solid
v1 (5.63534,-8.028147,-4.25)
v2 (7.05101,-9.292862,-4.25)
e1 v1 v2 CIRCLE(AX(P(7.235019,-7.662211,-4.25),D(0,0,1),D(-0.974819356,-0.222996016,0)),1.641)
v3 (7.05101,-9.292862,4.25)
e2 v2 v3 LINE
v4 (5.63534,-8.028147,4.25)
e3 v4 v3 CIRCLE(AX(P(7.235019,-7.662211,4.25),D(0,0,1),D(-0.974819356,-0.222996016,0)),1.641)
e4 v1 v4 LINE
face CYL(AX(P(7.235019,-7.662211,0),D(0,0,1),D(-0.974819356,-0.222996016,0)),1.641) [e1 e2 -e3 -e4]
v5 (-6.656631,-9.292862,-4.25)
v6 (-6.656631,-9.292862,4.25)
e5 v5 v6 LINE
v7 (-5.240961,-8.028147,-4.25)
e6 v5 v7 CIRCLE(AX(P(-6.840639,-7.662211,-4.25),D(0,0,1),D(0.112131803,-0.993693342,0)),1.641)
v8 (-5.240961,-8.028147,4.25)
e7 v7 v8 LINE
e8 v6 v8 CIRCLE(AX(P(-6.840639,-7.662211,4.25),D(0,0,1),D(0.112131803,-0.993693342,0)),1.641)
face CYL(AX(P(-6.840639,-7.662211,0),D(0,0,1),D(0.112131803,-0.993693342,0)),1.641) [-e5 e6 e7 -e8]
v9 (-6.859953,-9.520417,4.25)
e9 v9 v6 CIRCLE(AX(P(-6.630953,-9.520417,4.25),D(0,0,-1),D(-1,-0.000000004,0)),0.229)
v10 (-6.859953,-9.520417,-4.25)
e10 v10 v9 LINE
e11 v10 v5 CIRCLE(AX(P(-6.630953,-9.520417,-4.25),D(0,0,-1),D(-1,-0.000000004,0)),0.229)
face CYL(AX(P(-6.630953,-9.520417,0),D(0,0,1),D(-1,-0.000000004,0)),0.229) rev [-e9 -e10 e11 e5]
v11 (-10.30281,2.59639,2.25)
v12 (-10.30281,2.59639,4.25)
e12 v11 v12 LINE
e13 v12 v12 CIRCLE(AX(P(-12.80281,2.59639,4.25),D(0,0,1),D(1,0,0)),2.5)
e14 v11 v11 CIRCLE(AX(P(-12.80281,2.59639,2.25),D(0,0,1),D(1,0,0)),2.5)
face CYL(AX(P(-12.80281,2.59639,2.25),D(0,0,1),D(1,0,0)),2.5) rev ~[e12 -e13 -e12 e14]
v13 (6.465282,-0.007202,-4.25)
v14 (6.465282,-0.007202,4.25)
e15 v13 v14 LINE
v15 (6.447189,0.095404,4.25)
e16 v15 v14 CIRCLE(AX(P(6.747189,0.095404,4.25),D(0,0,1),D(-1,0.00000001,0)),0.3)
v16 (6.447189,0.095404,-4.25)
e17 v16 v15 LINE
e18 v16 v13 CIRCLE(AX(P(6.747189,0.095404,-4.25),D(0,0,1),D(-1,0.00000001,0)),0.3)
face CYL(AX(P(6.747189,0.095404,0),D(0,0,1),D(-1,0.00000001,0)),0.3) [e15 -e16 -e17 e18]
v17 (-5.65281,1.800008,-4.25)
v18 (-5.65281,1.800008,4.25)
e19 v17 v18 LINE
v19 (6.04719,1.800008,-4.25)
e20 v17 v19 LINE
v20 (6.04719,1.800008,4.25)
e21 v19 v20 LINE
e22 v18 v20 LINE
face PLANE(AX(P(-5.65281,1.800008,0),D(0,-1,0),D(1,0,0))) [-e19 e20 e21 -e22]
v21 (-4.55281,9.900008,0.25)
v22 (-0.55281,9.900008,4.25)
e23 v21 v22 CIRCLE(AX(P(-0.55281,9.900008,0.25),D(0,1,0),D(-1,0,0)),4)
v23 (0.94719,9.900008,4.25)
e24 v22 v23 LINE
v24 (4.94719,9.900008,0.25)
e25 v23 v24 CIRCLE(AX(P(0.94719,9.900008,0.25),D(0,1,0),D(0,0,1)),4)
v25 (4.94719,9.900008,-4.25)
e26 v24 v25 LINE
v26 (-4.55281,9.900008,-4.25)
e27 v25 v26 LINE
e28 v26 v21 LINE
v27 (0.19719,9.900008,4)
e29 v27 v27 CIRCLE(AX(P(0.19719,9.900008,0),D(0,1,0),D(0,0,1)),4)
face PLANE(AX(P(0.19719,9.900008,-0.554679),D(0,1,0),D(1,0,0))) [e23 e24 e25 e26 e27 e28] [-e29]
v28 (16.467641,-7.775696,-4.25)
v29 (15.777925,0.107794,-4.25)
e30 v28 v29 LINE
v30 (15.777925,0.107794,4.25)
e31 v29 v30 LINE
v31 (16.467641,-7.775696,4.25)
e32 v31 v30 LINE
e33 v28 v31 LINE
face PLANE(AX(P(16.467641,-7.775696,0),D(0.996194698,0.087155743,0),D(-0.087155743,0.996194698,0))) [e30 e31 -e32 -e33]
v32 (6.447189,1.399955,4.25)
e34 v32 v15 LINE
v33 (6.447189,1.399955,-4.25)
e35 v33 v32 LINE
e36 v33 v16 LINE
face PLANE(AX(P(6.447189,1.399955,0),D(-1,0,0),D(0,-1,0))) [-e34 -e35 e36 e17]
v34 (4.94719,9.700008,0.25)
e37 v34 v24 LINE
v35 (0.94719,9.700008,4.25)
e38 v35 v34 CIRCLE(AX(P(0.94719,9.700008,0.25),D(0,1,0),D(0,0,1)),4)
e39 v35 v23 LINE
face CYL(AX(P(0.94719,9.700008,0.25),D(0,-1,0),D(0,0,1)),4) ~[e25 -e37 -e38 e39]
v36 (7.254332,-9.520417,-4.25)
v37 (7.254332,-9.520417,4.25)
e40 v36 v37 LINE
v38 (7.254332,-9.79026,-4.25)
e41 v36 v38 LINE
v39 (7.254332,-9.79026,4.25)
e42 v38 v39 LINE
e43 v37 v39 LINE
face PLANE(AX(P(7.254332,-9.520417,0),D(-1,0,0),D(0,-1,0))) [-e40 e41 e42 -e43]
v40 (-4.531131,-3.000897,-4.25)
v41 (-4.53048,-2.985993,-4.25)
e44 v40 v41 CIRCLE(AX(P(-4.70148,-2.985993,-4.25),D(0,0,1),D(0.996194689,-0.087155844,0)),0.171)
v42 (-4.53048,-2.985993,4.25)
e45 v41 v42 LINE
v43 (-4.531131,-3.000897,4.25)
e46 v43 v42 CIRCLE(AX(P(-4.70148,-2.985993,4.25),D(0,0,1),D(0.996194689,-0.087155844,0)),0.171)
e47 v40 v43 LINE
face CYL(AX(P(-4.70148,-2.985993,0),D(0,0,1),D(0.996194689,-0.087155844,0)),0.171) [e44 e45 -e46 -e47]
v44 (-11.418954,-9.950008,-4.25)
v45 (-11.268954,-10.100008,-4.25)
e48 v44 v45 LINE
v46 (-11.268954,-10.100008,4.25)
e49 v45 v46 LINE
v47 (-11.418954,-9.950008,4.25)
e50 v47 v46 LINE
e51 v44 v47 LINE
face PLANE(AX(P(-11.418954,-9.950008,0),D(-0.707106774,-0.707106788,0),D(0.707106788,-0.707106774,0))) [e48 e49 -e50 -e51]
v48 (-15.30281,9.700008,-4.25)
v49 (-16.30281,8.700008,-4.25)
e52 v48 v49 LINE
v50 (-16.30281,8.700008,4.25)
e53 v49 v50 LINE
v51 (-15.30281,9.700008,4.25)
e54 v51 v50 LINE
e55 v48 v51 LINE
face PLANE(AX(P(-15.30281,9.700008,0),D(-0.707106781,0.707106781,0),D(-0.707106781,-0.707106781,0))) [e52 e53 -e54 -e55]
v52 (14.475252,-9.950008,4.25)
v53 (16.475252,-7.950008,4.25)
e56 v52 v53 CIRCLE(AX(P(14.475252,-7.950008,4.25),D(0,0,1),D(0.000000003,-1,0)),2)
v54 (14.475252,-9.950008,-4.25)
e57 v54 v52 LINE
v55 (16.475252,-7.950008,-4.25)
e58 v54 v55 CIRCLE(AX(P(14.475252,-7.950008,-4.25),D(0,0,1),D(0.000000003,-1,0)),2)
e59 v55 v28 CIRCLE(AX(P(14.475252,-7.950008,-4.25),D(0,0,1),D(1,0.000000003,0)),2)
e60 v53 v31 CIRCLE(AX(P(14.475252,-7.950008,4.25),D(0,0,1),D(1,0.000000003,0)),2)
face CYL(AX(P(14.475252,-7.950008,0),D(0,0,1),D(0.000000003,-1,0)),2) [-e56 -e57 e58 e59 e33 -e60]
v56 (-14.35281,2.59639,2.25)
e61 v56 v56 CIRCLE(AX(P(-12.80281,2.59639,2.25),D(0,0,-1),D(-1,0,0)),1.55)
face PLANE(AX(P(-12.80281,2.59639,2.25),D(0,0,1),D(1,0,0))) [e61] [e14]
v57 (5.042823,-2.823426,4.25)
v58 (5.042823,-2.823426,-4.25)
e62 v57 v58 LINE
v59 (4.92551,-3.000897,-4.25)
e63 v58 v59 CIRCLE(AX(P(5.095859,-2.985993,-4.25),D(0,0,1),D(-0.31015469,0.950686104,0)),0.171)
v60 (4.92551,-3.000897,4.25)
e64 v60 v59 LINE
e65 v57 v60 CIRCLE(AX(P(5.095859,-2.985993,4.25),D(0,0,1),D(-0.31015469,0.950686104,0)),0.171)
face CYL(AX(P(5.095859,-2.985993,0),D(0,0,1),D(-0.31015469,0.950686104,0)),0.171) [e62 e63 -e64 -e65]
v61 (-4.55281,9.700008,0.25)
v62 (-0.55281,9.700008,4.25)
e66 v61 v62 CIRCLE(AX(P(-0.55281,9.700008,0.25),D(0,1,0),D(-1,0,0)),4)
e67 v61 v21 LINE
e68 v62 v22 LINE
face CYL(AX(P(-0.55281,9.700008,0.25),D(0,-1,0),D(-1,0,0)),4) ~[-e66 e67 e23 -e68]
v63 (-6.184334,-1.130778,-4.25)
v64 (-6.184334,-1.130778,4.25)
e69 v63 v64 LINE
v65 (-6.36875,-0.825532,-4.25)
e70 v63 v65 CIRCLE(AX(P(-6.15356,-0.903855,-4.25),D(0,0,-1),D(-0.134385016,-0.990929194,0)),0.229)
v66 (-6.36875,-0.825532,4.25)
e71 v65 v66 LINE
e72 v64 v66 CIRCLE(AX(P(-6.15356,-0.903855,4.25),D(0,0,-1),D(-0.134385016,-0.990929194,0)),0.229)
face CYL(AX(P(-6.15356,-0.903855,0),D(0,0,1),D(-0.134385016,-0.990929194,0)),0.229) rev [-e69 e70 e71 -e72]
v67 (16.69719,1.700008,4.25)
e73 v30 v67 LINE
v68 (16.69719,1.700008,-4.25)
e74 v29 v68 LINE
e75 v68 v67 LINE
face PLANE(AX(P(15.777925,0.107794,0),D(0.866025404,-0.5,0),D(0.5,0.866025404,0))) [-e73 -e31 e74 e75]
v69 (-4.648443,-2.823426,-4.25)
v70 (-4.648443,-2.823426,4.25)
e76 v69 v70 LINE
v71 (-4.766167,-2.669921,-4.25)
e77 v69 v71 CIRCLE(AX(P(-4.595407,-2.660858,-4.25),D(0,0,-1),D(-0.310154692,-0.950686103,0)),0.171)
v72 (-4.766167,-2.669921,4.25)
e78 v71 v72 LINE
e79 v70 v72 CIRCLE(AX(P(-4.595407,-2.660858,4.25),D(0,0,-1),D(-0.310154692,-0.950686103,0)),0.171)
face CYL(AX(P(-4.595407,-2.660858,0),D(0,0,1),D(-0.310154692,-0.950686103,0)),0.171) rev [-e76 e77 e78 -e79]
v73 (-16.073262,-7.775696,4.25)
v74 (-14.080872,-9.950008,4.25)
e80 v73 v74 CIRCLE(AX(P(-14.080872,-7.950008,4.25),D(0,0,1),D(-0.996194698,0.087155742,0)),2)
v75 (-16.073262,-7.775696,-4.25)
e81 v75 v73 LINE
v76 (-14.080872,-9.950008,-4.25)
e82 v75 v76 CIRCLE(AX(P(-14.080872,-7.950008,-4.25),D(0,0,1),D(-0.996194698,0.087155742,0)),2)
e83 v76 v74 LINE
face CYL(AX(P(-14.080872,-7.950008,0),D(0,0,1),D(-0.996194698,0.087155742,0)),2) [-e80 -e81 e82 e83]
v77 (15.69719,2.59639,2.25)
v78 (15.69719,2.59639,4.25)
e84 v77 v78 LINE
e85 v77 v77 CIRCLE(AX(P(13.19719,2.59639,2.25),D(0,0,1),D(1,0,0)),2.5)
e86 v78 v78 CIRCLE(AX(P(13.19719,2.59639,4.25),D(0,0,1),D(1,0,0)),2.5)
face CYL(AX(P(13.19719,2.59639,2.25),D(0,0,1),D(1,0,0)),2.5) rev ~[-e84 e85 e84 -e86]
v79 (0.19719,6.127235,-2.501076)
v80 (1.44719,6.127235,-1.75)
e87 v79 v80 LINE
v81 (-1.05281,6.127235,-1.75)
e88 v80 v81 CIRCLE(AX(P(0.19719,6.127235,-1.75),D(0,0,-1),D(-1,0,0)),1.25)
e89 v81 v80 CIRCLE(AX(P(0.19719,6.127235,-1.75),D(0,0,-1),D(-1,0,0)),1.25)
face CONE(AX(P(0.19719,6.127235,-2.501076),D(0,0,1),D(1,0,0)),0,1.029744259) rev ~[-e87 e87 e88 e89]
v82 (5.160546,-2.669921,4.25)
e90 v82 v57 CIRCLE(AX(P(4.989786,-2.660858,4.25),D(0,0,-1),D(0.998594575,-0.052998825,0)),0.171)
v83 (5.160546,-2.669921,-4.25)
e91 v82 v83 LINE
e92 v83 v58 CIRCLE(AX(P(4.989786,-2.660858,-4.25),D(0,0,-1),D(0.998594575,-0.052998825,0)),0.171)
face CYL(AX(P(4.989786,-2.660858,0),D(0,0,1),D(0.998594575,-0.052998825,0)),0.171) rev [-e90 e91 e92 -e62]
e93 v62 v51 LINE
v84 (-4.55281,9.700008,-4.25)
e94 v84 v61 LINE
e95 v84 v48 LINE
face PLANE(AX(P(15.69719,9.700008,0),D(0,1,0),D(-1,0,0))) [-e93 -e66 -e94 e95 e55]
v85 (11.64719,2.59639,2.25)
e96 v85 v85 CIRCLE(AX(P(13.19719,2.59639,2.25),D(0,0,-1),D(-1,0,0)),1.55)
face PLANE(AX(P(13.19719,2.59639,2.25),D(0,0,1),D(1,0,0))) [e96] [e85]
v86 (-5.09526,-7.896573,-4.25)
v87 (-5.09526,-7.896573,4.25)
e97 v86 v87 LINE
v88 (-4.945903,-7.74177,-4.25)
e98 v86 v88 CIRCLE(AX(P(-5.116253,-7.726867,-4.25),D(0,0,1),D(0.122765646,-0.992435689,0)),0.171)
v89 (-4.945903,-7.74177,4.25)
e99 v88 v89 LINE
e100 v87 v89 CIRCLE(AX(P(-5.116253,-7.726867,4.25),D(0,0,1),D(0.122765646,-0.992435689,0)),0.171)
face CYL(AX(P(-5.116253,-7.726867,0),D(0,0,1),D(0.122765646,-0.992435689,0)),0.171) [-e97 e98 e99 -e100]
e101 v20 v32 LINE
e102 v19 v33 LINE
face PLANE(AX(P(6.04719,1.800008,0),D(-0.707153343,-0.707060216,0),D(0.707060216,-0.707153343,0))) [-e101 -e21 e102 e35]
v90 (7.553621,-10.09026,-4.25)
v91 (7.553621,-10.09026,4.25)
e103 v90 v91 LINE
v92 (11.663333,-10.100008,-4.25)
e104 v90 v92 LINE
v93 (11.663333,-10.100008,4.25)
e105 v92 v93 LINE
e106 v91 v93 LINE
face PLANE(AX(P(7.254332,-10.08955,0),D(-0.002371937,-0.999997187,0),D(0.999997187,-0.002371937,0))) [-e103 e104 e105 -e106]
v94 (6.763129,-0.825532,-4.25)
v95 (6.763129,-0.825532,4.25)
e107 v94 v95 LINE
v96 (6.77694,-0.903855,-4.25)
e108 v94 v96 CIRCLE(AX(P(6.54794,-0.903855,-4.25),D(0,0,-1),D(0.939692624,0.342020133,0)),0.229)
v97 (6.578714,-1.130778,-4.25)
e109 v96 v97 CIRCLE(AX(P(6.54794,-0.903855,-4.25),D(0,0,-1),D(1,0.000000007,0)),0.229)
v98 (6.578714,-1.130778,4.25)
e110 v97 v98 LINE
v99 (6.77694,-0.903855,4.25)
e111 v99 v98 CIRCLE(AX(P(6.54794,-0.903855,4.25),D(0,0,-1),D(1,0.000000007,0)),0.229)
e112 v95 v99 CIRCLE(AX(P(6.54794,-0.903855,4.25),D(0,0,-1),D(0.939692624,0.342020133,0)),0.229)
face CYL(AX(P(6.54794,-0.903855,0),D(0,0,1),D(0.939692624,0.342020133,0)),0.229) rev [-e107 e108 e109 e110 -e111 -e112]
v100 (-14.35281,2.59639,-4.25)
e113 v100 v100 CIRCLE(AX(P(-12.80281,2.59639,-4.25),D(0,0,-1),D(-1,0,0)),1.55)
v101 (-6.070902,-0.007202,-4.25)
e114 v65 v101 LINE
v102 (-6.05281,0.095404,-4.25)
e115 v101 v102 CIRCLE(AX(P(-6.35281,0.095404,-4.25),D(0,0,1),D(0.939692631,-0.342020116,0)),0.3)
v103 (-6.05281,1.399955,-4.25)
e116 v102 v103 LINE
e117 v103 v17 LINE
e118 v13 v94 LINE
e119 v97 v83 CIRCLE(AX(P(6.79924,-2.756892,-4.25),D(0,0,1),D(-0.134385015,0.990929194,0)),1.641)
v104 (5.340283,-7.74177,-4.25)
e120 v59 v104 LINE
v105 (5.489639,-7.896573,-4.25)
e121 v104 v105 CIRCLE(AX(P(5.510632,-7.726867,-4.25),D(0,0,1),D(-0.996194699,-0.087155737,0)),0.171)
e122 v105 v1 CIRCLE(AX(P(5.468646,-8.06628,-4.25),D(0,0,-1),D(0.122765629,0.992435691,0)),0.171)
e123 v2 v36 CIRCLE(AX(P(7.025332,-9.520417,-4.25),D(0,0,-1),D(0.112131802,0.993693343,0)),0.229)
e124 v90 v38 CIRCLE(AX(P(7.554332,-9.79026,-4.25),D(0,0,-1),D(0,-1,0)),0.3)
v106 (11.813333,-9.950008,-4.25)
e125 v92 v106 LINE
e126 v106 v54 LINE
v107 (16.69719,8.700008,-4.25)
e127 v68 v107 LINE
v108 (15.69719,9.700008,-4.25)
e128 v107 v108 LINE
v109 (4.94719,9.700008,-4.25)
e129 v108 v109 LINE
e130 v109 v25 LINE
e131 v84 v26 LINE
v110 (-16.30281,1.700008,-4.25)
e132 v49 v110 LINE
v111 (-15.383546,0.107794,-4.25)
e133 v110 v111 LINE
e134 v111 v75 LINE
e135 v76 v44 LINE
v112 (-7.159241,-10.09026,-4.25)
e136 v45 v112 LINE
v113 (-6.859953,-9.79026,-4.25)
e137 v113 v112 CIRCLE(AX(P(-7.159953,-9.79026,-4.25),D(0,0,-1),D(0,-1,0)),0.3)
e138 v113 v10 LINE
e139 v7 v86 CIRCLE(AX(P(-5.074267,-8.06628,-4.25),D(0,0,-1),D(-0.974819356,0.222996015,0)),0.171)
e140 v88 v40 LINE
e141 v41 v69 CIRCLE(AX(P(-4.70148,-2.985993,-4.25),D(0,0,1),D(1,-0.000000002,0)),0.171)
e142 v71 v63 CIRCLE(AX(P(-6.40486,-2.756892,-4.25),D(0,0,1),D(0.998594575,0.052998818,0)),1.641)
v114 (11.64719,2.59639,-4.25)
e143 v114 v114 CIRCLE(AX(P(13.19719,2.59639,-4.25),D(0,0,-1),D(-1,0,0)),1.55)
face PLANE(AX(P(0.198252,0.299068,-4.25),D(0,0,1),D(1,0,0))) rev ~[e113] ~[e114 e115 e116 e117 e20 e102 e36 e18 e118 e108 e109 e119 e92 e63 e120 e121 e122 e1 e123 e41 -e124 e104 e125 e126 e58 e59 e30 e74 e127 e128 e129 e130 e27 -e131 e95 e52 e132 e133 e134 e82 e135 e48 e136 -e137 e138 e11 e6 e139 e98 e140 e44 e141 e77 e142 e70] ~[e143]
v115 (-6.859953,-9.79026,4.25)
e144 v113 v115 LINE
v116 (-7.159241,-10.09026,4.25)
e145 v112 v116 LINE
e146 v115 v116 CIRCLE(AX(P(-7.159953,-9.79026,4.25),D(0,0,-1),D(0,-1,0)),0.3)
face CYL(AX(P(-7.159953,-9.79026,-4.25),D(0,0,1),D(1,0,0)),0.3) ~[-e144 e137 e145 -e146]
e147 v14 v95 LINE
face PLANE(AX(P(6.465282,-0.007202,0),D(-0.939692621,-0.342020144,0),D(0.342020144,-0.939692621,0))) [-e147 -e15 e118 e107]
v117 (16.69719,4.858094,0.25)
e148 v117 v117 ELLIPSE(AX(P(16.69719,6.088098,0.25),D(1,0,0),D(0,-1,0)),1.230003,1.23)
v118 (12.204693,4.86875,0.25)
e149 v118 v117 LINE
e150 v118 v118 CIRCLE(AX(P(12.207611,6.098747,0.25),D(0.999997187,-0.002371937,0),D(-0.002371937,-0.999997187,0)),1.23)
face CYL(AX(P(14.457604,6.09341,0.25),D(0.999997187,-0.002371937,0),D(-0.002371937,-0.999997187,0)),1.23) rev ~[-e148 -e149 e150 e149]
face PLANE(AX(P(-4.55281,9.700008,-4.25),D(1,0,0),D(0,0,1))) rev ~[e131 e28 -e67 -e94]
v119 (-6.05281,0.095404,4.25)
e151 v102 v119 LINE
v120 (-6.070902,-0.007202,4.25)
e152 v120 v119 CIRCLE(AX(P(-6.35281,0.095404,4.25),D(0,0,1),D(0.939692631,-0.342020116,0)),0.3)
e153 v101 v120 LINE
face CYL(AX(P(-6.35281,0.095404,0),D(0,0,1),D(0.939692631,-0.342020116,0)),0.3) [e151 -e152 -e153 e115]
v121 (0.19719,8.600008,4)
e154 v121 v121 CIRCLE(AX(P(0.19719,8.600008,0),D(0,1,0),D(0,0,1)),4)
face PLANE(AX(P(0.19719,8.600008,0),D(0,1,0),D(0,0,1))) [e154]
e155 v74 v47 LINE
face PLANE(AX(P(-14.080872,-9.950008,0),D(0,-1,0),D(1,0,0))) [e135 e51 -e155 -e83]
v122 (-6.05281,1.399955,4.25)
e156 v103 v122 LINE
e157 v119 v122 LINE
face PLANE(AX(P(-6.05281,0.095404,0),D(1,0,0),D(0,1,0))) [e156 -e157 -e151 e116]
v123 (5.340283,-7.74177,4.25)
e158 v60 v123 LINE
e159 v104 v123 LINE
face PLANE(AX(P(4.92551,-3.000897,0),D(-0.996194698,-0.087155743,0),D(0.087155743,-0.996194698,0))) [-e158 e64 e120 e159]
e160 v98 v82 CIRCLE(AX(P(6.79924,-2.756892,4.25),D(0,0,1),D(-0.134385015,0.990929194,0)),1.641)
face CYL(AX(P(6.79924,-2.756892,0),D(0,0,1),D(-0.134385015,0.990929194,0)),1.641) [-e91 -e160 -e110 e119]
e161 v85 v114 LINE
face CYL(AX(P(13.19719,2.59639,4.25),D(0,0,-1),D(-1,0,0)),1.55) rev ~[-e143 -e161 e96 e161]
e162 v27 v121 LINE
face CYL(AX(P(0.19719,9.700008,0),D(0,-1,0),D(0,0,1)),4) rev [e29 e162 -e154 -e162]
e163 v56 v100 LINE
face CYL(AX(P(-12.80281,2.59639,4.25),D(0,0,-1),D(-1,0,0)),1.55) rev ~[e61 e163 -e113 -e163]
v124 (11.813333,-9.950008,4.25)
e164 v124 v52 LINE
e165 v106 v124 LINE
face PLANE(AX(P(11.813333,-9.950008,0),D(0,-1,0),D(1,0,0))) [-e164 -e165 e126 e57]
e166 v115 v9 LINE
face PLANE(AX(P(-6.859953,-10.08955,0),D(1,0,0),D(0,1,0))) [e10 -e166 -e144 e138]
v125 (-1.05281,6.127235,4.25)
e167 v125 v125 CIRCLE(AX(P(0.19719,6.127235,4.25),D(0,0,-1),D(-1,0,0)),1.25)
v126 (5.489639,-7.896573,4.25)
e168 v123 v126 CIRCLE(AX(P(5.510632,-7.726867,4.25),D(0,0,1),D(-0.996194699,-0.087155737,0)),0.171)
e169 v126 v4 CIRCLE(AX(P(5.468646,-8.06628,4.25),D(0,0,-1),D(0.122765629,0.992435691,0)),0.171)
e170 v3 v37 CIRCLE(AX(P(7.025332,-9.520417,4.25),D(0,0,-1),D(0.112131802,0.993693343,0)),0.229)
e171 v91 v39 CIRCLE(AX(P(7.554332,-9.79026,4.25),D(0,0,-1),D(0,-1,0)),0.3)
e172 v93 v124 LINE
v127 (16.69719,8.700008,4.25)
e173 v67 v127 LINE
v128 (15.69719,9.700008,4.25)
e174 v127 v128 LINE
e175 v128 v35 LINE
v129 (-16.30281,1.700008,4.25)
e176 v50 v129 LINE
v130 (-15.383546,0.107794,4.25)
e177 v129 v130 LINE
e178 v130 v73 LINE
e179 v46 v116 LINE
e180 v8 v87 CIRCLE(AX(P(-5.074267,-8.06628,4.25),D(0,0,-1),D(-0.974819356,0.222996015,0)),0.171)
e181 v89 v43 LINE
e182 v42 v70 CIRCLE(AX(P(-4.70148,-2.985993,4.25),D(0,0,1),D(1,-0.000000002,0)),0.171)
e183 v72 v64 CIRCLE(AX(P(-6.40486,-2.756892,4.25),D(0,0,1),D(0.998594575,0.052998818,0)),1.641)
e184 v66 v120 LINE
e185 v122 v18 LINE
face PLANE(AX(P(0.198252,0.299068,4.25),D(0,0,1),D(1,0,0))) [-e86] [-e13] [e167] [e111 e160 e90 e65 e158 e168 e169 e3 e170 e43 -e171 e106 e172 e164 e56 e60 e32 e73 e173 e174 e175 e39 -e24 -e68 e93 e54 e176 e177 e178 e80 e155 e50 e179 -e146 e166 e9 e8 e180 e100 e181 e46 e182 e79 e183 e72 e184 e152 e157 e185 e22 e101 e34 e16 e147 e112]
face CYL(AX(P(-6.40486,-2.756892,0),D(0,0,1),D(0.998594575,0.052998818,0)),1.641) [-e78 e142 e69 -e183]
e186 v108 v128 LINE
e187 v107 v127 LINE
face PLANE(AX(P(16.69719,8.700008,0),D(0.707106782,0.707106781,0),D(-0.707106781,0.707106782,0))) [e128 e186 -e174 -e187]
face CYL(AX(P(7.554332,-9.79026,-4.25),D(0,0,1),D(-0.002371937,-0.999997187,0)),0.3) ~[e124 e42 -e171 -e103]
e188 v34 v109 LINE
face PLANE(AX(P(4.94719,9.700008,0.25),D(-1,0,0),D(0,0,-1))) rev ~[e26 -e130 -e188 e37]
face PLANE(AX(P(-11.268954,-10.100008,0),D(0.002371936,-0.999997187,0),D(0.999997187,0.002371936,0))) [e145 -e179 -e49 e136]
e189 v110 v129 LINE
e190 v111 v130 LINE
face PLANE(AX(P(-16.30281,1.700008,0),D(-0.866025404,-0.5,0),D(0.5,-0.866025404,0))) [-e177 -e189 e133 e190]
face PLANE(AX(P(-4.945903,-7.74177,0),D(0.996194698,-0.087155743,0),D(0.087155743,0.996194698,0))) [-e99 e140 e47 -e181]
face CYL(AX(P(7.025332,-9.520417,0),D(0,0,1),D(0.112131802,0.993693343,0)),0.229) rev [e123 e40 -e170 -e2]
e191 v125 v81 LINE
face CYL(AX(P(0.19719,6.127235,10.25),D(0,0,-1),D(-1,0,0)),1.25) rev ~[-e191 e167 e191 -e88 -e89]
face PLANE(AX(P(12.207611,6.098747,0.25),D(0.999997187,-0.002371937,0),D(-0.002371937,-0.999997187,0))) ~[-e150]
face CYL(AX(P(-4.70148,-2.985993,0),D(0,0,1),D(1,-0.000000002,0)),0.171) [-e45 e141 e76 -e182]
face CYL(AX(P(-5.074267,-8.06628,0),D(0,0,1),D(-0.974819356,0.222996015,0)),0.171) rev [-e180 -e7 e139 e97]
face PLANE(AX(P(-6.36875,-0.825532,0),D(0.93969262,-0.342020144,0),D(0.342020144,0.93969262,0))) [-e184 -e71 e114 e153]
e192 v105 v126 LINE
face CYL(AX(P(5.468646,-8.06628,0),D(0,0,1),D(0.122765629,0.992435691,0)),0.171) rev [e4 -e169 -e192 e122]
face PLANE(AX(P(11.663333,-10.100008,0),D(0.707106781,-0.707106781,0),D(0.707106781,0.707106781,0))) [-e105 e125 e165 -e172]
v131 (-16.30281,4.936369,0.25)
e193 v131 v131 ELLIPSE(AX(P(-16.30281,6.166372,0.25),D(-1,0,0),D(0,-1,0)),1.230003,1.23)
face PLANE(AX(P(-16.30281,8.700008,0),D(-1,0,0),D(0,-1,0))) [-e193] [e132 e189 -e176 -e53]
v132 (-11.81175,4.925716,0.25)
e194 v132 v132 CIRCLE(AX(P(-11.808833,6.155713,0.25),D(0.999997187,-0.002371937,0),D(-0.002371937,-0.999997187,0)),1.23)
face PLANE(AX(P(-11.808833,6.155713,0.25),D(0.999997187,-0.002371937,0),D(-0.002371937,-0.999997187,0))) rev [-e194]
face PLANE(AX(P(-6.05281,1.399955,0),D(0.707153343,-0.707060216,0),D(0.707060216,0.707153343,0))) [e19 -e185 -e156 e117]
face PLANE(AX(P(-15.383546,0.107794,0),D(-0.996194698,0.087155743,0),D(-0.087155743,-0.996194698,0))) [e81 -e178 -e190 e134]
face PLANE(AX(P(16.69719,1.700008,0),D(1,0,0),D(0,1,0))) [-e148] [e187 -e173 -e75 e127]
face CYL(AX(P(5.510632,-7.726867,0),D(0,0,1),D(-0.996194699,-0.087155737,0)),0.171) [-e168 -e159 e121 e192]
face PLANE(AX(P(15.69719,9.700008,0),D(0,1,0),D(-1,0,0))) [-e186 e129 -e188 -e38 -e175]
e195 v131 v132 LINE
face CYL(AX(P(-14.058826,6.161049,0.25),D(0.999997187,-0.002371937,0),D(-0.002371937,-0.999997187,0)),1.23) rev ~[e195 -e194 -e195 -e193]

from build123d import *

# Parameters (mm, degrees)
EXTRUDE1_DEPTH                          = 4.25
CBORE_FOR_M5_HEX_HEAD_BOLT2_D           = 3.1
CBORE_FOR_M5_HEX_HEAD_BOLT2_CBORE_D     = 5
CBORE_FOR_M5_HEX_HEAD_BOLT2_CBORE_DEPTH = 2
F_2_5_2_5_DIAMETER_HOLE1_D              = 2.5
F_2_5_2_5_DIAMETER_HOLE1_DEPTH          = 6
F_2_5_2_5_DIAMETER_HOLE1_TIP            = 0.751075774
SKETCH13_R                              = 4
EXTRUDE3_DEPTH                          = 0.2
CUT_EXTRUDE2_START                      = -1.3
SKETCH15_R                              = 4
CUT_EXTRUDE2_DEPTH                      = 1.3
FILLET1_R                               = 0.3
SKETCH16_W                              = 4.5
SKETCH16_H                              = 1.23


with BuildPart() as part:
    # Sketch1 → Extrude1 (new, symmetric)
    with BuildSketch(Plane.XY):
        with BuildLine():
            Line((4.92550995, -3.000896773), (5.340282634, -7.741770244))
            ThreePointArc((5.340282634, -7.741770244), (5.387571197, -7.845597639), (5.489639003, -7.896573115))
            ThreePointArc((5.489639003, -7.896573115), (5.583252131, -7.939368417), (5.635340188, -8.028147299))
            ThreePointArc((5.635340188, -8.028147299), (6.141739158, -8.88598399), (7.051010463, -9.292861611))
            ThreePointArc((7.051010463, -9.292861611), (7.196097182, -9.367838396), (7.25433228, -9.520417385))
            Line((7.25433228, -9.520417385), (7.25433228, -10.089549749))
            Line((7.25433228, -10.089549749), (11.66333313, -10.10000765))
            Line((11.66333313, -10.10000765), (11.81333313, -9.95000765))
            Line((11.81333313, -9.95000765), (14.47525163, -9.95000765))
            ThreePointArc((14.47525163, -9.95000765), (15.889465188, -9.36422121), (16.475251623, -7.95000765))
            ThreePointArc((16.475251623, -7.95000765), (16.473348066, -7.862768875), (16.467641019, -7.775696164))
            Line((16.467641019, -7.775696164), (15.777924964, 0.107794413))
            Line((15.777924964, 0.107794413), (16.697189707, 1.700007653))
            Line((16.697189707, 1.700007653), (16.697189707, 8.700007649))
            Line((16.697189707, 8.700007649), (15.697189707, 9.70000765))
            Line((15.697189707, 9.70000765), (-15.302810298, 9.70000765))
            Line((-15.302810298, 9.70000765), (-16.302810293, 8.700007655))
            Line((-16.302810293, 8.700007655), (-16.302810293, 1.70000765))
            Line((-16.302810293, 1.70000765), (-15.383545551, 0.107794412))
            Line((-15.383545551, 0.107794412), (-16.073261605, -7.775696165))
            ThreePointArc((-16.073261605, -7.775696165), (-15.555426882, -9.301188065), (-14.080872208, -9.95000765))
            Line((-14.080872208, -9.95000765), (-11.418953708, -9.95000765))
            Line((-11.418953708, -9.95000765), (-11.268953705, -10.10000765))
            Line((-11.268953705, -10.10000765), (-6.85995286, -10.089549753))
            Line((-6.85995286, -10.089549753), (-6.85995286, -9.520417385))
            ThreePointArc((-6.85995286, -9.520417385), (-6.801717763, -9.367838396), (-6.656631044, -9.292861611))
            ThreePointArc((-6.656631044, -9.292861611), (-5.747359739, -8.885983989), (-5.240960769, -8.028147299))
            ThreePointArc((-5.240960769, -8.028147299), (-5.188872711, -7.939368417), (-5.095259583, -7.896573115))
            ThreePointArc((-5.095259583, -7.896573115), (-4.993191778, -7.845597639), (-4.945903214, -7.741770244))
            Line((-4.945903214, -7.741770244), (-4.531130531, -3.000896773))
            ThreePointArc((-4.531130531, -3.000896773), (-4.530642578, -2.993452056), (-4.530479824, -2.985993141))
            ThreePointArc((-4.530479824, -2.985993141), (-4.563077813, -2.885564642), (-4.648443372, -2.823425817))
            ThreePointArc((-4.648443372, -2.823425817), (-4.731098063, -2.76492056), (-4.766166593, -2.669921291))
            ThreePointArc((-4.766166593, -2.669921291), (-5.198040021, -1.644927498), (-6.18433448, -1.130777545))
            ThreePointArc((-6.18433448, -1.130777545), (-6.349566009, -1.022272522), (-6.368749921, -0.825532146))
            Line((-6.368749921, -0.825532146), (-6.070902174, -0.007202189))
            ThreePointArc((-6.070902174, -0.007202189), (-6.057367635, 0.043309401), (-6.05280996, 0.095403855))
            Line((-6.05280996, 0.095403855), (-6.05280996, 1.399955293))
            Line((-6.05280996, 1.399955293), (-5.652810289, 1.800007648))
            Line((-5.652810289, 1.800007648), (6.047189708, 1.800007648))
            Line((6.047189708, 1.800007648), (6.44718938, 1.399955292))
            Line((6.44718938, 1.399955292), (6.44718938, 0.095403855))
            ThreePointArc((6.44718938, 0.095403855), (6.451747054, 0.043309401), (6.465281594, -0.007202188))
            Line((6.465281594, -0.007202188), (6.763129341, -0.825532146))
            ThreePointArc((6.763129341, -0.825532146), (6.773460706, -0.864089327), (6.77693973, -0.903854759))
            ThreePointArc((6.77693973, -0.903854759), (6.720404632, -1.054509523), (6.578713899, -1.130777545))
            ThreePointArc((6.578713899, -1.130777545), (5.59241944, -1.644927498), (5.160546013, -2.669921291))
            ThreePointArc((5.160546013, -2.669921291), (5.125477483, -2.76492056), (5.042822792, -2.823425817))
            ThreePointArc((5.042822792, -2.823425817), (4.953208331, -2.891697239), (4.92550995, -3.000896773))
        make_face()
    extrude(amount=EXTRUDE1_DEPTH, both=True)

    # CBORE for M5 Hex Head Bolt2 (through all)
    with Locations(Plane(origin=(-12.802810293, 2.596389855, 4.25), x_dir=(1, 0, 0), z_dir=(0, 0, 1))):
        with Locations((0, 0), (26, 0)):
            CounterBoreHole(CBORE_FOR_M5_HEX_HEAD_BOLT2_D / 2, CBORE_FOR_M5_HEX_HEAD_BOLT2_CBORE_D / 2, CBORE_FOR_M5_HEX_HEAD_BOLT2_CBORE_DEPTH)

    # Ø2.5 (2.5) Diameter Hole1
    with Locations(Plane(origin=(0.197189707, 6.127234967, 4.25), x_dir=(1, 0, 0), z_dir=(0, 0, 1))):
        with Locations((0, 0)):
            Hole(F_2_5_2_5_DIAMETER_HOLE1_D / 2, depth=F_2_5_2_5_DIAMETER_HOLE1_DEPTH)
            with Locations((0, 0, -(F_2_5_2_5_DIAMETER_HOLE1_DEPTH + F_2_5_2_5_DIAMETER_HOLE1_TIP / 2))):  # 118° drill point
                Cone(0, F_2_5_2_5_DIAMETER_HOLE1_D / 2, F_2_5_2_5_DIAMETER_HOLE1_TIP, mode=Mode.SUBTRACT)

    # Sketch13 → Extrude3 (add)
    with BuildSketch(Plane(origin=(0, 9.70000765, 0), x_dir=(1, 0, 0), z_dir=(0, 1, 0))):
        with BuildLine():
            Line((-4.552810293, 4.25), (-4.552810293, -0.25))
            ThreePointArc((-4.552810293, -0.25), (-3.381237418, -3.078427125), (-0.552810293, -4.25))
            Line((-0.552810293, -4.25), (0.947189707, -4.25))
            ThreePointArc((0.947189707, -4.25), (3.775616832, -3.078427125), (4.947189707, -0.25))
            Line((4.947189707, -0.25), (4.947189707, 4.25))
            Line((4.947189707, 4.25), (-4.552810293, 4.25))
        make_face()
        with Locations(Location((0.197189707, 0, 0), (0, 0, 270))):
            Circle(SKETCH13_R, mode=Mode.SUBTRACT)
    extrude(amount=EXTRUDE3_DEPTH)

    # Sketch15 → Cut-Extrude2 (cut)
    with BuildSketch(Plane(origin=(0, 9.90000765, 0), x_dir=(1, 0, 0), z_dir=(0, 1, 0)).offset(CUT_EXTRUDE2_START)):
        with Locations(Location((0.197189707, 0, 0), (0, 0, 270))):
            Circle(SKETCH15_R)
    extrude(amount=CUT_EXTRUDE2_DEPTH, mode=Mode.SUBTRACT)

    # Fillet1
    fillet1_edges = [part.edges().sort_by_distance(p)[0] for p in [
        (-6.85995286, -10.089549753, 0),
        (7.25433228, -10.089549749, 0),
    ]]
    fillet(fillet1_edges, radius=FILLET1_R)

    # Sketch16 → Cut-Revolve1 (revolve, cut)
    with BuildSketch(Plane(origin=(0.014534484, 6.127668215, 0), x_dir=(0.9999971869535607, -0.0023719369649562337, 0), z_dir=(-0.0023719369649562337, -0.9999971869535607, 0)), mode=Mode.PRIVATE) as cut_revolve1_sk:
        with Locations((14.443110426, 0.865)):
            Rectangle(SKETCH16_W, SKETCH16_H)
        with Locations((-14.073400302, 0.865)):
            Rectangle(SKETCH16_W, SKETCH16_H)
    revolve(cut_revolve1_sk.sketch.rotate(Axis((-24.587443164, 6.186022719, 0.25), (0.9999971869535605, -0.002371936964956225, 0)), 90), axis=Axis((-24.587443164, 6.186022719, 0.25), (0.9999971869535605, -0.002371936964956225, 0)), mode=Mode.SUBTRACT)


solid = part.part
